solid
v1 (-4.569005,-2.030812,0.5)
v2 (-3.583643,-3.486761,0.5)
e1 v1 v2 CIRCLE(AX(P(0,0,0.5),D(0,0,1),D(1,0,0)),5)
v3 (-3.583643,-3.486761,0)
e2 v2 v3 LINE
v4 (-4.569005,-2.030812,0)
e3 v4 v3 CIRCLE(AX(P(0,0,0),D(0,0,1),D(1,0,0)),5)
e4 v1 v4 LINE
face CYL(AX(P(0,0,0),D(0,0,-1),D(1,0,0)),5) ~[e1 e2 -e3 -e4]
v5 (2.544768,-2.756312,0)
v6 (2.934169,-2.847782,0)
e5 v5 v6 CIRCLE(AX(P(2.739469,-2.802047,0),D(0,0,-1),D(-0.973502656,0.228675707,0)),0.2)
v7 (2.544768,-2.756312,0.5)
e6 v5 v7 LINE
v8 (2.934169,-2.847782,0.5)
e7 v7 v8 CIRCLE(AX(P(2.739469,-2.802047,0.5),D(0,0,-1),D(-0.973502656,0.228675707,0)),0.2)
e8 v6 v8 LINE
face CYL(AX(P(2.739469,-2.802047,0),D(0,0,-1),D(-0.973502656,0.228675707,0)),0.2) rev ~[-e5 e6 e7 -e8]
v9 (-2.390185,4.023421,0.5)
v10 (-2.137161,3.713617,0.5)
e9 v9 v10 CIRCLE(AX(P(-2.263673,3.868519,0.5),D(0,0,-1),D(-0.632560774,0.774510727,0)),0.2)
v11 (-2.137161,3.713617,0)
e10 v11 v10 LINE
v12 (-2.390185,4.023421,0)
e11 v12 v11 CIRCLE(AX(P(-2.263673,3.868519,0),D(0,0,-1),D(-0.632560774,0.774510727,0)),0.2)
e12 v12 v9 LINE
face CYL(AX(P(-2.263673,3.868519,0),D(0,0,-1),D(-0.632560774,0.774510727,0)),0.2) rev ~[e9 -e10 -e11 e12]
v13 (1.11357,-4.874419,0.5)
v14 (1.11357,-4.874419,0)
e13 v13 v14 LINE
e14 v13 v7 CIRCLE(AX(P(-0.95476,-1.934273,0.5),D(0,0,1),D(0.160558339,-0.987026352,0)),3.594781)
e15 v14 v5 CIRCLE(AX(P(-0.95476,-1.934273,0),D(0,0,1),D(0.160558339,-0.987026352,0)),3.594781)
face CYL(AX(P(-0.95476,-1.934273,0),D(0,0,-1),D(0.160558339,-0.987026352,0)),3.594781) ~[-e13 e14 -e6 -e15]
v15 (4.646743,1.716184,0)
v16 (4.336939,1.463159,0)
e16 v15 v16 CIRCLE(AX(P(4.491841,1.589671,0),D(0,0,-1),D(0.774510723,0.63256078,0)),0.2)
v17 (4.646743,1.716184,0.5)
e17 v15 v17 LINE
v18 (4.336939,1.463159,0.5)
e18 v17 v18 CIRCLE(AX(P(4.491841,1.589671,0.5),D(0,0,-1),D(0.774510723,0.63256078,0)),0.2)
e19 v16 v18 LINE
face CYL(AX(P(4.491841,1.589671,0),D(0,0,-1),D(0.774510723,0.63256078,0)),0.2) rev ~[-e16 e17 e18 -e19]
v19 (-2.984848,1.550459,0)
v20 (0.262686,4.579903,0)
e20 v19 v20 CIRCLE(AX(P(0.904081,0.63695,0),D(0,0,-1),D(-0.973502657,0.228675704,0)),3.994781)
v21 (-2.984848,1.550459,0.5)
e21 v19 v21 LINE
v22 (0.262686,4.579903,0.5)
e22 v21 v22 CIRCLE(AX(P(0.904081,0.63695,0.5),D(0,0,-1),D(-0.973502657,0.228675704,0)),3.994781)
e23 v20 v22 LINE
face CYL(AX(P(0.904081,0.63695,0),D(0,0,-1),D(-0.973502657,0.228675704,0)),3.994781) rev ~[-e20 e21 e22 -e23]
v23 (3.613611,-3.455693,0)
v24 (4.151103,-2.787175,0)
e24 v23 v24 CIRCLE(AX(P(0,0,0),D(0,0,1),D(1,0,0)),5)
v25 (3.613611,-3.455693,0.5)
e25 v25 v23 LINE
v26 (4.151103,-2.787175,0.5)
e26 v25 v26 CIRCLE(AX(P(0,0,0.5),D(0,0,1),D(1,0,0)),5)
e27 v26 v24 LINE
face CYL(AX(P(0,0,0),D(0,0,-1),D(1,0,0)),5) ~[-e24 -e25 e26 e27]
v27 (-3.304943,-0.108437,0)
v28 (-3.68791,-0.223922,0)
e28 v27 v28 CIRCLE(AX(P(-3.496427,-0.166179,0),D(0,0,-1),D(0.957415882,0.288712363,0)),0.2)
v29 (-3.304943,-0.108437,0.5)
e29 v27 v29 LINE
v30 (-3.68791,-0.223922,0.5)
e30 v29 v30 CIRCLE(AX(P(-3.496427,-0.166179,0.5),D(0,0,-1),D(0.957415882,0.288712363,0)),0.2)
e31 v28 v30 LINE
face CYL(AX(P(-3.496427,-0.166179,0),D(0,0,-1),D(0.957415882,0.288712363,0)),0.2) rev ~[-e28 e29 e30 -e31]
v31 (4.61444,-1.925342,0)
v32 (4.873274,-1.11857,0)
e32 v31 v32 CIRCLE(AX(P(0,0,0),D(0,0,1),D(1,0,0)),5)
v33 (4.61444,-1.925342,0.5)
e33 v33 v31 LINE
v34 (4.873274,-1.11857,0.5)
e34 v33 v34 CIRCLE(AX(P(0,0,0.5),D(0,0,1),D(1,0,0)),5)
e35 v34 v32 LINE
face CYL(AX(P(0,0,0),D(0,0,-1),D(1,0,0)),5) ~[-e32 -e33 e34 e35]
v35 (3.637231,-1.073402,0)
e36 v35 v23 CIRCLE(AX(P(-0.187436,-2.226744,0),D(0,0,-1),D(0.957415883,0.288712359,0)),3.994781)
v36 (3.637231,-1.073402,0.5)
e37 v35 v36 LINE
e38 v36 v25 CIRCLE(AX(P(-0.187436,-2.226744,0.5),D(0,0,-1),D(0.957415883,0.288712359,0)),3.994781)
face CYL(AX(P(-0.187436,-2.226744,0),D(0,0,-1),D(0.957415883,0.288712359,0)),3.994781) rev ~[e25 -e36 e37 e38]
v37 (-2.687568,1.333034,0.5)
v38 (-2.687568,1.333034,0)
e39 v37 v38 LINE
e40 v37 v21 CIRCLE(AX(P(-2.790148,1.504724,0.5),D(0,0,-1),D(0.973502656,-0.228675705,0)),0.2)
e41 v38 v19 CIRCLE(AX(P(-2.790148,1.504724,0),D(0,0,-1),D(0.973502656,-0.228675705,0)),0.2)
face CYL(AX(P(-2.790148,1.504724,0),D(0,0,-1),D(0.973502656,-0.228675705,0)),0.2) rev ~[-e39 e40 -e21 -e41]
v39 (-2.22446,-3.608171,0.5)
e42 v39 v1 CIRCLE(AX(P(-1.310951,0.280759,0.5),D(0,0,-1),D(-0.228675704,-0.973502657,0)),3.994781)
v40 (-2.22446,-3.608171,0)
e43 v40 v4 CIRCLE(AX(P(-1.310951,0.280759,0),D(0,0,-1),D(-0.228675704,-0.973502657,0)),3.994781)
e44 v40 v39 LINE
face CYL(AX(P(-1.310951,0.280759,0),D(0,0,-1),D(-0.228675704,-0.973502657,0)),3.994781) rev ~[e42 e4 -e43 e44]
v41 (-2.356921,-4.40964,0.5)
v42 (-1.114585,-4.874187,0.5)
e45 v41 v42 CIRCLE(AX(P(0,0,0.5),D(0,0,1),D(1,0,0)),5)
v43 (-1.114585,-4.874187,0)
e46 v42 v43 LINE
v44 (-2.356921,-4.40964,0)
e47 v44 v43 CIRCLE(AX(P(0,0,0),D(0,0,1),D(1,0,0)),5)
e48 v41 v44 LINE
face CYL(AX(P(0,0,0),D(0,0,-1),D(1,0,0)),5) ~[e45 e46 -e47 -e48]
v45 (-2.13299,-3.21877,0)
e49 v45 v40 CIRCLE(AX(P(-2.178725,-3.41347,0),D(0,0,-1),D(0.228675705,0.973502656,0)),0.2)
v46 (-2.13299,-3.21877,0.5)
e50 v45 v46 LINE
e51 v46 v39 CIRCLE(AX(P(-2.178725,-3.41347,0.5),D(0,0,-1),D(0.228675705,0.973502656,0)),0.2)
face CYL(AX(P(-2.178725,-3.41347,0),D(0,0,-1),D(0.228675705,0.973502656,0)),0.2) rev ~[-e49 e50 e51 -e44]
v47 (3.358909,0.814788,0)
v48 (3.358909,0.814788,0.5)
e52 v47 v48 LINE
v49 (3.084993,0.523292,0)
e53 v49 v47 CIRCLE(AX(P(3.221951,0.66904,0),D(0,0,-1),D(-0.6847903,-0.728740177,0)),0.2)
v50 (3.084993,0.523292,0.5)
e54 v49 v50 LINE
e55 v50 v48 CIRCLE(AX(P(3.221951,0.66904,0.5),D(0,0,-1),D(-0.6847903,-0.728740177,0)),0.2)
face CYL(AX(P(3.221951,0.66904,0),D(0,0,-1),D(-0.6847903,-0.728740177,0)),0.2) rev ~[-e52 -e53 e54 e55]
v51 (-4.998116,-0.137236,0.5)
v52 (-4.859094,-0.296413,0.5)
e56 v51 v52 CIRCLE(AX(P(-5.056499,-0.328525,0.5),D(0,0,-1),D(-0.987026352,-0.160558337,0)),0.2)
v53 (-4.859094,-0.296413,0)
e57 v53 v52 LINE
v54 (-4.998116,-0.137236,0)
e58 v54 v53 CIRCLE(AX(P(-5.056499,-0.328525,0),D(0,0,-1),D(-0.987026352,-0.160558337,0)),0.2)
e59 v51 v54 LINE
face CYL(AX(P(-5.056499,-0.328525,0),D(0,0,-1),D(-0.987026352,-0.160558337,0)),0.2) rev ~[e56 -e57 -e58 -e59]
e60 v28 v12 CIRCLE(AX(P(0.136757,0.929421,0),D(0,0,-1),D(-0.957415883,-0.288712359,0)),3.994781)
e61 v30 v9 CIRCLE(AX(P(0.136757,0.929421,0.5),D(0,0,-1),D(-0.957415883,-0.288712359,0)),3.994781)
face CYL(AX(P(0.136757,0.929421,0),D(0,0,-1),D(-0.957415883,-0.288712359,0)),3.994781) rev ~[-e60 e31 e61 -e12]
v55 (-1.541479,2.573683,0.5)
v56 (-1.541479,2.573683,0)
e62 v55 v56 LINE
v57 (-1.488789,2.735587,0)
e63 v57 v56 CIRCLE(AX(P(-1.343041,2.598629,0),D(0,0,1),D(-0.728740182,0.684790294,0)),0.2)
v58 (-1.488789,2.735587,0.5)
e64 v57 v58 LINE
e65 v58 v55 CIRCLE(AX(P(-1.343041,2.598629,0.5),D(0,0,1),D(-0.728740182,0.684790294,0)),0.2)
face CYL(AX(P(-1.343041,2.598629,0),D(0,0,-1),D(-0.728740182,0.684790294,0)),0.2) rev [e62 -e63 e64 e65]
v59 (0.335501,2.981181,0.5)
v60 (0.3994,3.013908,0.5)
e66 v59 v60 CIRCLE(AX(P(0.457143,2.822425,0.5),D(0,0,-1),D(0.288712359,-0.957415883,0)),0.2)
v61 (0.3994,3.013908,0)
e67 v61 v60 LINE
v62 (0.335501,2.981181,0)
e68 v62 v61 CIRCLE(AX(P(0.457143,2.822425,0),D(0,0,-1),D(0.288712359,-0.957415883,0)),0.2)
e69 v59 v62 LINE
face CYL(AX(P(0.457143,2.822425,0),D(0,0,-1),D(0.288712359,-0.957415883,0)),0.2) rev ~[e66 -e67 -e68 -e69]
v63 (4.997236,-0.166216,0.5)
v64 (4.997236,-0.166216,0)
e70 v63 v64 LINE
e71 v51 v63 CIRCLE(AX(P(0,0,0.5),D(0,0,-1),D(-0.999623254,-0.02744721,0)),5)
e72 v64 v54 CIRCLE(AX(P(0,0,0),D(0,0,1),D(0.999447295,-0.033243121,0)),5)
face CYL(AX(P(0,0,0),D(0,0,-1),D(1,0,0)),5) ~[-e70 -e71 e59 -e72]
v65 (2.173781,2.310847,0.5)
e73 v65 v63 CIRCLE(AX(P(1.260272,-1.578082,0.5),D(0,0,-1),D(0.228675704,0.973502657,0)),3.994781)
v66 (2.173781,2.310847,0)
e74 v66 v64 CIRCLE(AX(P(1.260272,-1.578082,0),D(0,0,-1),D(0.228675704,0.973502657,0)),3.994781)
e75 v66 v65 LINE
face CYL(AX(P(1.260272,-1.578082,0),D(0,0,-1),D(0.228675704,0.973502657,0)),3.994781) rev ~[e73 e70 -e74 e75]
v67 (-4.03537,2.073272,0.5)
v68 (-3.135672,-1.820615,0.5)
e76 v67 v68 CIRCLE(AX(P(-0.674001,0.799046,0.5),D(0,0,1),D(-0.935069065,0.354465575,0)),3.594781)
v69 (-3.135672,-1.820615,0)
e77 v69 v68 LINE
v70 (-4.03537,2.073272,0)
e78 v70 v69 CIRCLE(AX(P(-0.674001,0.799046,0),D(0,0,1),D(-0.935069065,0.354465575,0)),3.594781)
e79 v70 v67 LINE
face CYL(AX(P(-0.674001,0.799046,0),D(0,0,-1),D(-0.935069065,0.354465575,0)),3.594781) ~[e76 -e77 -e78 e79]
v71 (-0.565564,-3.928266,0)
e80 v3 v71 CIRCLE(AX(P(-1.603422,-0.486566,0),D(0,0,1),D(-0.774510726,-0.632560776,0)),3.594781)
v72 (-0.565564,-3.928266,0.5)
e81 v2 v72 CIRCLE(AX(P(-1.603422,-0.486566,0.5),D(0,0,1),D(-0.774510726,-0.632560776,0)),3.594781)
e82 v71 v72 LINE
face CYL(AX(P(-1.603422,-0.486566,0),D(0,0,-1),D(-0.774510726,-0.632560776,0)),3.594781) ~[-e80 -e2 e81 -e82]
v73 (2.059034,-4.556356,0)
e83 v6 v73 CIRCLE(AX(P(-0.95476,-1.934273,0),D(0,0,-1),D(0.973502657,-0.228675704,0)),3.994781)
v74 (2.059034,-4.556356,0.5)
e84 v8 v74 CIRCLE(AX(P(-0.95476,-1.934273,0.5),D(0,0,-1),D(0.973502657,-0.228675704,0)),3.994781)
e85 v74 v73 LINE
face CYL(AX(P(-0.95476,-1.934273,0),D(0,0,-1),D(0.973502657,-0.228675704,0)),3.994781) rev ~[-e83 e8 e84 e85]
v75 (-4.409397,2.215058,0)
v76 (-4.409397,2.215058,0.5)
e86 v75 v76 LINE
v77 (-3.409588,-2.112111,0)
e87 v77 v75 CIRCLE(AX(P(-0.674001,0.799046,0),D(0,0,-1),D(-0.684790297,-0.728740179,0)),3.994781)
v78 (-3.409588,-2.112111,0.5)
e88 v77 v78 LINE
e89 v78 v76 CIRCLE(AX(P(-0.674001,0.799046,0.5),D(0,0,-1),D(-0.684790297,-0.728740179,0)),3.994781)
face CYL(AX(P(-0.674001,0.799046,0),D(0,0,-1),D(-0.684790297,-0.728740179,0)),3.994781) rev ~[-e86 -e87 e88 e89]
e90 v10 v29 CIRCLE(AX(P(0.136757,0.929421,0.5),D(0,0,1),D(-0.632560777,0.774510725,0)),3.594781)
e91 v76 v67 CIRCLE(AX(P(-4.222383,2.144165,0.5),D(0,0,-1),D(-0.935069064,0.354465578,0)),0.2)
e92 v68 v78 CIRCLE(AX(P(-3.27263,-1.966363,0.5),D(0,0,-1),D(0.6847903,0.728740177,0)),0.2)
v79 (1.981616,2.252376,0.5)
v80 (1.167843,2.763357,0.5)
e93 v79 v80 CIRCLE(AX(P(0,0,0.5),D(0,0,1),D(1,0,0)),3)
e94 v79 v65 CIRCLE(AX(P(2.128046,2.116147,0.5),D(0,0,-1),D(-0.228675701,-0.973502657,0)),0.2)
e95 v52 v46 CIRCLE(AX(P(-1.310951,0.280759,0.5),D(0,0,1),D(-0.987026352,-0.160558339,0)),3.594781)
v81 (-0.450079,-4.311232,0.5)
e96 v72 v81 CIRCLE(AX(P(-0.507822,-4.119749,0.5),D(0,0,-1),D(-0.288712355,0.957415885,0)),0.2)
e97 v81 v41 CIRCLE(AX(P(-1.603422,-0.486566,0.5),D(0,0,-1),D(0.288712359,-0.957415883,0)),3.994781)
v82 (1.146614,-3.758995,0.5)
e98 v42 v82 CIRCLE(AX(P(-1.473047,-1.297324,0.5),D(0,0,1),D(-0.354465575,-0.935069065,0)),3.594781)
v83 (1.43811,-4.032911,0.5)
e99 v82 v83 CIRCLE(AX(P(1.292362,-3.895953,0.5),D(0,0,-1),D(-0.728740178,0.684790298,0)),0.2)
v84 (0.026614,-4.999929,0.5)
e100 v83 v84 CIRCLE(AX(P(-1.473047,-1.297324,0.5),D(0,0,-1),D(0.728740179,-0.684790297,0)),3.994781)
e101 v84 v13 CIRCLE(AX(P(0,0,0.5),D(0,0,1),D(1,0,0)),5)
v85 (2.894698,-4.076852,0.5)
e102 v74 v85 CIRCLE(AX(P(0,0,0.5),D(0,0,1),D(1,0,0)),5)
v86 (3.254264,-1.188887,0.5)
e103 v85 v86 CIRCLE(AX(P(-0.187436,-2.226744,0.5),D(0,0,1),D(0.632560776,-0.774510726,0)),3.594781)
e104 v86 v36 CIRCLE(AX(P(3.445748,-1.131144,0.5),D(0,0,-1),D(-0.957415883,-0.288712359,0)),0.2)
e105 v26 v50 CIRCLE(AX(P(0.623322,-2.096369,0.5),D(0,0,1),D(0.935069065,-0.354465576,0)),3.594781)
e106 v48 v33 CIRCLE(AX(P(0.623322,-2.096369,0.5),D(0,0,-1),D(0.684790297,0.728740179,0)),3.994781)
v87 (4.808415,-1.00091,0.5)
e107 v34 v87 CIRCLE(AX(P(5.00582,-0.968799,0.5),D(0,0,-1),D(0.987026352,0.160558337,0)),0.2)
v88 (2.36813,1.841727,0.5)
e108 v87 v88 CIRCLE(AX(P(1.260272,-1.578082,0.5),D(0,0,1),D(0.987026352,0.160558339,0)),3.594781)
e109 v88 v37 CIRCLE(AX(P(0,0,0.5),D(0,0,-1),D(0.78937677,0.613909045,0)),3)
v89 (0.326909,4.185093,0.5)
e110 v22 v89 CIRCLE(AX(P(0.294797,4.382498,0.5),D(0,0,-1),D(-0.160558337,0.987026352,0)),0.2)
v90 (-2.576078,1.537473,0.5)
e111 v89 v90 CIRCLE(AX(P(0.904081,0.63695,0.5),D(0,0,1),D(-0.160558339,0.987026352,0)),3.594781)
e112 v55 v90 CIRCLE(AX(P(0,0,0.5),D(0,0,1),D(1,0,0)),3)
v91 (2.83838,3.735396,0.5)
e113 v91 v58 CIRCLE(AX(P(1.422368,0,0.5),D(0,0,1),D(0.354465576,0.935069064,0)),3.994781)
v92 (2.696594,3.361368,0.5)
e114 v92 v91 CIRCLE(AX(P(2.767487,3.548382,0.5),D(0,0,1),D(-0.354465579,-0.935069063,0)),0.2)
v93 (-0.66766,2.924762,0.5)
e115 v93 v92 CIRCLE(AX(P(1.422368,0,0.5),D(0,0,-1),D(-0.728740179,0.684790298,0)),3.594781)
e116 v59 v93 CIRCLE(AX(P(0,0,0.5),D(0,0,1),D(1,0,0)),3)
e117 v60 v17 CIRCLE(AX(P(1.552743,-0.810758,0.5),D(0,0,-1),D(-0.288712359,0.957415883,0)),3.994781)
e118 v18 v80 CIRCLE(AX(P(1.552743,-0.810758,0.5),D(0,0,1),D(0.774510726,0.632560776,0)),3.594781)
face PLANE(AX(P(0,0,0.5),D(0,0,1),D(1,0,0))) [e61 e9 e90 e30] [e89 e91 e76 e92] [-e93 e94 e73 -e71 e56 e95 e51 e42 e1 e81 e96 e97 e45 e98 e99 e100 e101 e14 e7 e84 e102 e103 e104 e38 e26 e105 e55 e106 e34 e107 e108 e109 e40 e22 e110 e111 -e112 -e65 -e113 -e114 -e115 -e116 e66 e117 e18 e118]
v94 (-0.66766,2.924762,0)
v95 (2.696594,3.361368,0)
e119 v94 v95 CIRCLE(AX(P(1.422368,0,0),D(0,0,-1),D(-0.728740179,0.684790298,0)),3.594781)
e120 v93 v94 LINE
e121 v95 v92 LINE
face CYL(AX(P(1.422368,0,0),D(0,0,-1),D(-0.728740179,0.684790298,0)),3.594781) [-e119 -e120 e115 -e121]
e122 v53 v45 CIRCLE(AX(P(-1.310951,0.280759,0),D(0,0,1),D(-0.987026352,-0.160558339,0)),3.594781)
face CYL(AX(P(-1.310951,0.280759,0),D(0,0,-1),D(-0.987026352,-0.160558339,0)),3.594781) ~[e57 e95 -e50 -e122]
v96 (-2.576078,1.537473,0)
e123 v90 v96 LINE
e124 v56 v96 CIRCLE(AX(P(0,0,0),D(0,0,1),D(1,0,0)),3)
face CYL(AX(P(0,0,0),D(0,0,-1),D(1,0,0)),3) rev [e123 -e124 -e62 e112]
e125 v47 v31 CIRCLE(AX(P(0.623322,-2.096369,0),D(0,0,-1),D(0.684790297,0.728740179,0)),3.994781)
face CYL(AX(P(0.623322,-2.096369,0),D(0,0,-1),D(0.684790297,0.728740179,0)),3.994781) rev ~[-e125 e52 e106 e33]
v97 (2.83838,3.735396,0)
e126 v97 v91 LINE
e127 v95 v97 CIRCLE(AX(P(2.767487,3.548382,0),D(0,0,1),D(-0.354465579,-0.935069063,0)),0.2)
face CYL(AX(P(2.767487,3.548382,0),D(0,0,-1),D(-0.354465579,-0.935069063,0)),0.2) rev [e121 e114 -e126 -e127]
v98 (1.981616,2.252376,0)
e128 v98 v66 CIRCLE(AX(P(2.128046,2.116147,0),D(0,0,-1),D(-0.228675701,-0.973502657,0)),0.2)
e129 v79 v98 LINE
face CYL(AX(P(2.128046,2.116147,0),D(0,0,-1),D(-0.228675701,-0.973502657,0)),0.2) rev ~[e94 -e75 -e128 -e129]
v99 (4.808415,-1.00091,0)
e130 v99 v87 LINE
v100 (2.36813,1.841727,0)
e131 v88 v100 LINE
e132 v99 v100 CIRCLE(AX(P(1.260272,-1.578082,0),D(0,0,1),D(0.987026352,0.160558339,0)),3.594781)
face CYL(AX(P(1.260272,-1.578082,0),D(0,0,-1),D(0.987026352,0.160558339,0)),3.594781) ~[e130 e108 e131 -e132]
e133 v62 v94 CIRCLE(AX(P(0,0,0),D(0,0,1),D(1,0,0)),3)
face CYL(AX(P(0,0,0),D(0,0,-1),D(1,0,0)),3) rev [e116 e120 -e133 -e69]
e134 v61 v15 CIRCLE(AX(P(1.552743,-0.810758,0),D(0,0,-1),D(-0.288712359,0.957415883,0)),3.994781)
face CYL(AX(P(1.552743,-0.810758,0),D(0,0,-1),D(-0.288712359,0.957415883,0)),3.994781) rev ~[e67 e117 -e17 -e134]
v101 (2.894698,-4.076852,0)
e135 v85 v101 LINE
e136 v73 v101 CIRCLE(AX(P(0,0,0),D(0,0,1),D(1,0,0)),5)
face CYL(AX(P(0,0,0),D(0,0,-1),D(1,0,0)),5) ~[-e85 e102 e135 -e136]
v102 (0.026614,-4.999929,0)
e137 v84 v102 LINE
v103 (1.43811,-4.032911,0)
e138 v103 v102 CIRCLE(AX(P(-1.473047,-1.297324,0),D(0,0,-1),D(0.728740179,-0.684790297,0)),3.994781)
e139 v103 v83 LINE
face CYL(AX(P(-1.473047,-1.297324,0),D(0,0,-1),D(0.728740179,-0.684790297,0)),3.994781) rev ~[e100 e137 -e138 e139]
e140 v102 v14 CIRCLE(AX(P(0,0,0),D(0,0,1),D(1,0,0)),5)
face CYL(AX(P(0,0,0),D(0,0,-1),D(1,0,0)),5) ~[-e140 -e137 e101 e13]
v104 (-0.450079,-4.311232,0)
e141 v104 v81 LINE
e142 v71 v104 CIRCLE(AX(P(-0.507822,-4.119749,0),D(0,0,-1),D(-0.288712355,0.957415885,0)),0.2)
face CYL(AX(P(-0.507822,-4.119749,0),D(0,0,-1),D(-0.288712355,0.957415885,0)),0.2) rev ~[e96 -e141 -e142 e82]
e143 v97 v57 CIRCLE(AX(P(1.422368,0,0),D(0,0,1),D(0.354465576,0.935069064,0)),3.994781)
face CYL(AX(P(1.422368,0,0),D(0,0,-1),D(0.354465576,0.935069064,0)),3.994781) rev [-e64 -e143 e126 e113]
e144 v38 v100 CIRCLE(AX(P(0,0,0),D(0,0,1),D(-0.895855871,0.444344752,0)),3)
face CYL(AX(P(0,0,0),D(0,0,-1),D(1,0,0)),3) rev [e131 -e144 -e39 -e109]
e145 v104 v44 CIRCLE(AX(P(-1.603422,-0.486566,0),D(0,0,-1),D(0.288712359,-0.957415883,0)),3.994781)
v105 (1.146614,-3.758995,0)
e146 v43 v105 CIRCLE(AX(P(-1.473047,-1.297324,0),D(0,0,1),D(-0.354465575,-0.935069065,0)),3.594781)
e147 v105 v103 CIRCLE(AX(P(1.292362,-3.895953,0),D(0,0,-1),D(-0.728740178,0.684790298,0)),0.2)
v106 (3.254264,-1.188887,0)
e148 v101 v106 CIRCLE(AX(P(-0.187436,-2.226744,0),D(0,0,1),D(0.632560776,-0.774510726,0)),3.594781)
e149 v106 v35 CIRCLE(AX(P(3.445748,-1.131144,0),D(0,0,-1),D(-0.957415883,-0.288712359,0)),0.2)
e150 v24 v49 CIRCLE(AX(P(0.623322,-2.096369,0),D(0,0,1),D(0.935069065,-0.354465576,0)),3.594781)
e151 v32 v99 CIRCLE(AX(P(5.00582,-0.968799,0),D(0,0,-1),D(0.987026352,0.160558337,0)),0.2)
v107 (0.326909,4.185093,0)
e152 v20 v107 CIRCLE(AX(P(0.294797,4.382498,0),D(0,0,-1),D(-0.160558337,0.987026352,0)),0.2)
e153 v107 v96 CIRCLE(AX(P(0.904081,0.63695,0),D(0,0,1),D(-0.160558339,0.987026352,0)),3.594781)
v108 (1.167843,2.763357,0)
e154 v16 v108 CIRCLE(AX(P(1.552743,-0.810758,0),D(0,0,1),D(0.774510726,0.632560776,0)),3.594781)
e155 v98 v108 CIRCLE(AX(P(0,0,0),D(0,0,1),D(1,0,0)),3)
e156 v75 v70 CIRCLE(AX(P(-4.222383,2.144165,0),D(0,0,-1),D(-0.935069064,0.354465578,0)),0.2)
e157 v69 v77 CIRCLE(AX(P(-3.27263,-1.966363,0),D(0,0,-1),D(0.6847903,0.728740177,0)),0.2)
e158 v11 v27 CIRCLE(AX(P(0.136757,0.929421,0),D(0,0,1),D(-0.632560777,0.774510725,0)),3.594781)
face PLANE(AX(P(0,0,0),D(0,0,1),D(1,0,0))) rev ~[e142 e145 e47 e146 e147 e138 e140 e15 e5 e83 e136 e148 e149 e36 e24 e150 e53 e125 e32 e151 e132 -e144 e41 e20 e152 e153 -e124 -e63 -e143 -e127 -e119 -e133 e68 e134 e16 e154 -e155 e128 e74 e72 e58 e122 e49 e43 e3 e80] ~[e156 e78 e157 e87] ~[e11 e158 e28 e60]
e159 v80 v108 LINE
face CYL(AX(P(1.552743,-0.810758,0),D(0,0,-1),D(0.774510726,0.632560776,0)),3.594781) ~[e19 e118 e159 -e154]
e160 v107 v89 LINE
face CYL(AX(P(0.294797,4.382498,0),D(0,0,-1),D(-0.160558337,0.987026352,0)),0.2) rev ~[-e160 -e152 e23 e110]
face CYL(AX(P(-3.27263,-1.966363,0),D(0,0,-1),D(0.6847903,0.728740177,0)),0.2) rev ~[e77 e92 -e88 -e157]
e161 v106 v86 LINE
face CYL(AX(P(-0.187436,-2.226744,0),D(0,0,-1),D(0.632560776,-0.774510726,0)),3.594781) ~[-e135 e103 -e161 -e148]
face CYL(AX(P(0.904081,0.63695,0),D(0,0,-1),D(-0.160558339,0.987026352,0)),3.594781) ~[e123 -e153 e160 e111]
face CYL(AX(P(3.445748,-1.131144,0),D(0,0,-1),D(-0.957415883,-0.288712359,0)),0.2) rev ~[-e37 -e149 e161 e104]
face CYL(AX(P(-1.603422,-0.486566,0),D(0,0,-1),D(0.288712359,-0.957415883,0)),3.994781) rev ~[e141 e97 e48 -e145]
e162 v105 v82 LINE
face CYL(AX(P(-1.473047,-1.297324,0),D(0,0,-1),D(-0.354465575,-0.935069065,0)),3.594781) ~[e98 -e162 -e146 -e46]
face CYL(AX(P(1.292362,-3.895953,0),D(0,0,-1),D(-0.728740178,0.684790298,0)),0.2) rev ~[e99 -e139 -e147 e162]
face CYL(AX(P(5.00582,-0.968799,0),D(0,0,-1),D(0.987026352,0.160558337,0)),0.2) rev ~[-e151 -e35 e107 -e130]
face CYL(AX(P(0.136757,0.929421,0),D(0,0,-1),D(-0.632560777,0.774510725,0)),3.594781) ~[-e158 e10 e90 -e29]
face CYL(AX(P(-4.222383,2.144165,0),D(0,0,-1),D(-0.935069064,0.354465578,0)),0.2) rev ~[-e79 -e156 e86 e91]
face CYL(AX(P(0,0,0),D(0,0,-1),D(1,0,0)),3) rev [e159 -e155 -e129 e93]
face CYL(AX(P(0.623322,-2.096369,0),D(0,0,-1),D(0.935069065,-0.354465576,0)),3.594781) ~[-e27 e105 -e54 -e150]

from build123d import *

# Parameters (mm, degrees)
SKETCH4_R           = 5
SKETCH4_R_2         = 3
BOSS_EXTRUDE2_DEPTH = 0.5
CUT_EXTRUDE1_DEPTH  = 0.5


with BuildPart() as part:
    # Sketch4 → Boss-Extrude2 (new body)
    with BuildSketch(Plane.XY):
        Circle(SKETCH4_R)
        Circle(SKETCH4_R_2, mode=Mode.SUBTRACT)
    extrude(amount=BOSS_EXTRUDE2_DEPTH)

    # Sketch5 → Cut-Extrude1 (cut)
    with BuildSketch(Plane.XY):
        with BuildLine():
            ThreePointArc((2.838380277, 3.735395811), (0.523052201, 3.89223631), (-1.488789119, 2.735587034))
            ThreePointArc((-1.488789119, 2.735587034), (-1.479999142, 2.452880939), (-1.197293047, 2.461670915))
            ThreePointArc((-1.197293047, 2.461670915), (0.613101285, 3.502504142), (2.696594047, 3.361368186))
            ThreePointArc((2.696594047, 3.361368186), (2.954500975, 3.477488883), (2.838380277, 3.735395811))
        make_face()
        with BuildLine():
            ThreePointArc((4.336939093, 1.463159243), (2.603149411, 2.627132948), (0.514885315, 2.630942098))
            ThreePointArc((0.514885315, 2.630942098), (0.265659666, 2.764682803), (0.399400371, 3.013908452))
            ThreePointArc((0.399400371, 3.013908452), (2.7200307, 3.009675448), (4.646743383, 1.716183554))
            ThreePointArc((4.646743383, 1.716183554), (4.618353394, 1.434769253), (4.336939093, 1.463159243))
        make_face()
        with BuildLine():
            ThreePointArc((4.808415103, -1.000910445), (3.888896046, 0.874015193), (2.082310864, 1.921446063))
            ThreePointArc((2.082310864, 1.921446063), (1.933345473, 2.161881735), (2.173781146, 2.310847125))
            ThreePointArc((2.173781146, 2.310847125), (4.181389462, 1.146866072), (5.203225644, -0.93668711))
            ThreePointArc((5.203225644, -0.93668711), (5.037932041, -1.166204048), (4.808415103, -1.000910445))
        make_face()
        with BuildLine():
            ThreePointArc((3.98469046, -3.370595397), (4.125826417, -1.287102636), (3.08499319, 0.523291697))
            ThreePointArc((3.08499319, 0.523291697), (3.076203214, 0.805997792), (3.358909309, 0.814787769))
            ThreePointArc((3.358909309, 0.814787769), (4.515558585, -1.197053551), (4.358718086, -3.512381628))
            ThreePointArc((4.358718086, -3.512381628), (4.100811158, -3.628502325), (3.98469046, -3.370595397))
        make_face()
        with BuildLine():
            ThreePointArc((2.086481518, -5.010940443), (3.250455223, -3.277150761), (3.254264373, -1.188886665))
            ThreePointArc((3.254264373, -1.188886665), (3.388005078, -0.939661016), (3.637230727, -1.073401721))
            ThreePointArc((3.637230727, -1.073401721), (3.632997723, -3.394032051), (2.339505829, -5.320744734))
            ThreePointArc((2.339505829, -5.320744734), (2.058091528, -5.292354744), (2.086481518, -5.010940443))
        make_face()
        with BuildLine():
            ThreePointArc((-0.37758817, -5.482416453), (1.497337468, -4.562897396), (2.544768337, -2.756312214))
            ThreePointArc((2.544768337, -2.756312214), (2.78520401, -2.607346824), (2.9341694, -2.847782496))
            ThreePointArc((2.9341694, -2.847782496), (1.770188347, -4.855390812), (-0.313364835, -5.877226994))
            ThreePointArc((-0.313364835, -5.877226994), (-0.542881773, -5.711933391), (-0.37758817, -5.482416453))
        make_face()
        with BuildLine():
            ThreePointArc((-2.747273122, -4.658691811), (-0.663780361, -4.799827767), (1.146613972, -3.75899454))
            ThreePointArc((1.146613972, -3.75899454), (1.429320067, -3.750204564), (1.438110043, -4.032910659))
            ThreePointArc((1.438110043, -4.032910659), (-0.573731276, -5.189559935), (-2.889059353, -5.032719436))
            ThreePointArc((-2.889059353, -5.032719436), (-3.00518005, -4.774812508), (-2.747273122, -4.658691811))
        make_face()
        with BuildLine():
            ThreePointArc((-4.387618168, -2.760482868), (-2.653828487, -3.924456573), (-0.56556439, -3.928265723))
            ThreePointArc((-0.56556439, -3.928265723), (-0.316338742, -4.062006428), (-0.450079446, -4.311232077))
            ThreePointArc((-0.450079446, -4.311232077), (-2.770709776, -4.306999073), (-4.697422459, -3.013507179))
            ThreePointArc((-4.697422459, -3.013507179), (-4.669032469, -2.732092879), (-4.387618168, -2.760482868))
        make_face()
        with BuildLine():
            ThreePointArc((-4.859094178, -0.29641318), (-3.939575121, -2.171338818), (-2.132989939, -3.218769688))
            ThreePointArc((-2.132989939, -3.218769688), (-1.984024549, -3.45920536), (-2.224460221, -3.60817075))
            ThreePointArc((-2.224460221, -3.60817075), (-4.232068537, -2.444189697), (-5.253904719, -0.360636515))
            ThreePointArc((-5.253904719, -0.360636515), (-5.088611116, -0.131119577), (-4.859094178, -0.29641318))
        make_face()
        with BuildLine():
            ThreePointArc((-4.035369536, 2.073271772), (-4.176505492, -0.01022099), (-3.135672265, -1.820615322))
            ThreePointArc((-3.135672265, -1.820615322), (-3.126882289, -2.103321417), (-3.409588384, -2.112111394))
            ThreePointArc((-3.409588384, -2.112111394), (-4.56623766, -0.100270074), (-4.409397161, 2.215058003))
            ThreePointArc((-4.409397161, 2.215058003), (-4.151490233, 2.3311787), (-4.035369536, 2.073271772))
        make_face()
        with BuildLine():
            ThreePointArc((-2.137160594, 3.713616818), (-3.301134298, 1.979827136), (-3.304943449, -0.10843696))
            ThreePointArc((-3.304943449, -0.10843696), (-3.438684153, -0.357662609), (-3.687909802, -0.223921904))
            ThreePointArc((-3.687909802, -0.223921904), (-3.683676798, 2.096708426), (-2.390184904, 4.023421109))
            ThreePointArc((-2.390184904, 4.023421109), (-2.108770604, 3.995031119), (-2.137160594, 3.713616818))
        make_face()
        with BuildLine():
            ThreePointArc((0.326909095, 4.185092828), (-1.548016544, 3.265573771), (-2.595447413, 1.458988589))
            ThreePointArc((-2.595447413, 1.458988589), (-2.835883085, 1.310023199), (-2.984848475, 1.550458871))
            ThreePointArc((-2.984848475, 1.550458871), (-1.820867422, 3.558067187), (0.26268576, 4.579903369))
            ThreePointArc((0.26268576, 4.579903369), (0.492202698, 4.414609766), (0.326909095, 4.185092828))
        make_face()
    extrude(amount=CUT_EXTRUDE1_DEPTH, mode=Mode.SUBTRACT)


solid = part.part
